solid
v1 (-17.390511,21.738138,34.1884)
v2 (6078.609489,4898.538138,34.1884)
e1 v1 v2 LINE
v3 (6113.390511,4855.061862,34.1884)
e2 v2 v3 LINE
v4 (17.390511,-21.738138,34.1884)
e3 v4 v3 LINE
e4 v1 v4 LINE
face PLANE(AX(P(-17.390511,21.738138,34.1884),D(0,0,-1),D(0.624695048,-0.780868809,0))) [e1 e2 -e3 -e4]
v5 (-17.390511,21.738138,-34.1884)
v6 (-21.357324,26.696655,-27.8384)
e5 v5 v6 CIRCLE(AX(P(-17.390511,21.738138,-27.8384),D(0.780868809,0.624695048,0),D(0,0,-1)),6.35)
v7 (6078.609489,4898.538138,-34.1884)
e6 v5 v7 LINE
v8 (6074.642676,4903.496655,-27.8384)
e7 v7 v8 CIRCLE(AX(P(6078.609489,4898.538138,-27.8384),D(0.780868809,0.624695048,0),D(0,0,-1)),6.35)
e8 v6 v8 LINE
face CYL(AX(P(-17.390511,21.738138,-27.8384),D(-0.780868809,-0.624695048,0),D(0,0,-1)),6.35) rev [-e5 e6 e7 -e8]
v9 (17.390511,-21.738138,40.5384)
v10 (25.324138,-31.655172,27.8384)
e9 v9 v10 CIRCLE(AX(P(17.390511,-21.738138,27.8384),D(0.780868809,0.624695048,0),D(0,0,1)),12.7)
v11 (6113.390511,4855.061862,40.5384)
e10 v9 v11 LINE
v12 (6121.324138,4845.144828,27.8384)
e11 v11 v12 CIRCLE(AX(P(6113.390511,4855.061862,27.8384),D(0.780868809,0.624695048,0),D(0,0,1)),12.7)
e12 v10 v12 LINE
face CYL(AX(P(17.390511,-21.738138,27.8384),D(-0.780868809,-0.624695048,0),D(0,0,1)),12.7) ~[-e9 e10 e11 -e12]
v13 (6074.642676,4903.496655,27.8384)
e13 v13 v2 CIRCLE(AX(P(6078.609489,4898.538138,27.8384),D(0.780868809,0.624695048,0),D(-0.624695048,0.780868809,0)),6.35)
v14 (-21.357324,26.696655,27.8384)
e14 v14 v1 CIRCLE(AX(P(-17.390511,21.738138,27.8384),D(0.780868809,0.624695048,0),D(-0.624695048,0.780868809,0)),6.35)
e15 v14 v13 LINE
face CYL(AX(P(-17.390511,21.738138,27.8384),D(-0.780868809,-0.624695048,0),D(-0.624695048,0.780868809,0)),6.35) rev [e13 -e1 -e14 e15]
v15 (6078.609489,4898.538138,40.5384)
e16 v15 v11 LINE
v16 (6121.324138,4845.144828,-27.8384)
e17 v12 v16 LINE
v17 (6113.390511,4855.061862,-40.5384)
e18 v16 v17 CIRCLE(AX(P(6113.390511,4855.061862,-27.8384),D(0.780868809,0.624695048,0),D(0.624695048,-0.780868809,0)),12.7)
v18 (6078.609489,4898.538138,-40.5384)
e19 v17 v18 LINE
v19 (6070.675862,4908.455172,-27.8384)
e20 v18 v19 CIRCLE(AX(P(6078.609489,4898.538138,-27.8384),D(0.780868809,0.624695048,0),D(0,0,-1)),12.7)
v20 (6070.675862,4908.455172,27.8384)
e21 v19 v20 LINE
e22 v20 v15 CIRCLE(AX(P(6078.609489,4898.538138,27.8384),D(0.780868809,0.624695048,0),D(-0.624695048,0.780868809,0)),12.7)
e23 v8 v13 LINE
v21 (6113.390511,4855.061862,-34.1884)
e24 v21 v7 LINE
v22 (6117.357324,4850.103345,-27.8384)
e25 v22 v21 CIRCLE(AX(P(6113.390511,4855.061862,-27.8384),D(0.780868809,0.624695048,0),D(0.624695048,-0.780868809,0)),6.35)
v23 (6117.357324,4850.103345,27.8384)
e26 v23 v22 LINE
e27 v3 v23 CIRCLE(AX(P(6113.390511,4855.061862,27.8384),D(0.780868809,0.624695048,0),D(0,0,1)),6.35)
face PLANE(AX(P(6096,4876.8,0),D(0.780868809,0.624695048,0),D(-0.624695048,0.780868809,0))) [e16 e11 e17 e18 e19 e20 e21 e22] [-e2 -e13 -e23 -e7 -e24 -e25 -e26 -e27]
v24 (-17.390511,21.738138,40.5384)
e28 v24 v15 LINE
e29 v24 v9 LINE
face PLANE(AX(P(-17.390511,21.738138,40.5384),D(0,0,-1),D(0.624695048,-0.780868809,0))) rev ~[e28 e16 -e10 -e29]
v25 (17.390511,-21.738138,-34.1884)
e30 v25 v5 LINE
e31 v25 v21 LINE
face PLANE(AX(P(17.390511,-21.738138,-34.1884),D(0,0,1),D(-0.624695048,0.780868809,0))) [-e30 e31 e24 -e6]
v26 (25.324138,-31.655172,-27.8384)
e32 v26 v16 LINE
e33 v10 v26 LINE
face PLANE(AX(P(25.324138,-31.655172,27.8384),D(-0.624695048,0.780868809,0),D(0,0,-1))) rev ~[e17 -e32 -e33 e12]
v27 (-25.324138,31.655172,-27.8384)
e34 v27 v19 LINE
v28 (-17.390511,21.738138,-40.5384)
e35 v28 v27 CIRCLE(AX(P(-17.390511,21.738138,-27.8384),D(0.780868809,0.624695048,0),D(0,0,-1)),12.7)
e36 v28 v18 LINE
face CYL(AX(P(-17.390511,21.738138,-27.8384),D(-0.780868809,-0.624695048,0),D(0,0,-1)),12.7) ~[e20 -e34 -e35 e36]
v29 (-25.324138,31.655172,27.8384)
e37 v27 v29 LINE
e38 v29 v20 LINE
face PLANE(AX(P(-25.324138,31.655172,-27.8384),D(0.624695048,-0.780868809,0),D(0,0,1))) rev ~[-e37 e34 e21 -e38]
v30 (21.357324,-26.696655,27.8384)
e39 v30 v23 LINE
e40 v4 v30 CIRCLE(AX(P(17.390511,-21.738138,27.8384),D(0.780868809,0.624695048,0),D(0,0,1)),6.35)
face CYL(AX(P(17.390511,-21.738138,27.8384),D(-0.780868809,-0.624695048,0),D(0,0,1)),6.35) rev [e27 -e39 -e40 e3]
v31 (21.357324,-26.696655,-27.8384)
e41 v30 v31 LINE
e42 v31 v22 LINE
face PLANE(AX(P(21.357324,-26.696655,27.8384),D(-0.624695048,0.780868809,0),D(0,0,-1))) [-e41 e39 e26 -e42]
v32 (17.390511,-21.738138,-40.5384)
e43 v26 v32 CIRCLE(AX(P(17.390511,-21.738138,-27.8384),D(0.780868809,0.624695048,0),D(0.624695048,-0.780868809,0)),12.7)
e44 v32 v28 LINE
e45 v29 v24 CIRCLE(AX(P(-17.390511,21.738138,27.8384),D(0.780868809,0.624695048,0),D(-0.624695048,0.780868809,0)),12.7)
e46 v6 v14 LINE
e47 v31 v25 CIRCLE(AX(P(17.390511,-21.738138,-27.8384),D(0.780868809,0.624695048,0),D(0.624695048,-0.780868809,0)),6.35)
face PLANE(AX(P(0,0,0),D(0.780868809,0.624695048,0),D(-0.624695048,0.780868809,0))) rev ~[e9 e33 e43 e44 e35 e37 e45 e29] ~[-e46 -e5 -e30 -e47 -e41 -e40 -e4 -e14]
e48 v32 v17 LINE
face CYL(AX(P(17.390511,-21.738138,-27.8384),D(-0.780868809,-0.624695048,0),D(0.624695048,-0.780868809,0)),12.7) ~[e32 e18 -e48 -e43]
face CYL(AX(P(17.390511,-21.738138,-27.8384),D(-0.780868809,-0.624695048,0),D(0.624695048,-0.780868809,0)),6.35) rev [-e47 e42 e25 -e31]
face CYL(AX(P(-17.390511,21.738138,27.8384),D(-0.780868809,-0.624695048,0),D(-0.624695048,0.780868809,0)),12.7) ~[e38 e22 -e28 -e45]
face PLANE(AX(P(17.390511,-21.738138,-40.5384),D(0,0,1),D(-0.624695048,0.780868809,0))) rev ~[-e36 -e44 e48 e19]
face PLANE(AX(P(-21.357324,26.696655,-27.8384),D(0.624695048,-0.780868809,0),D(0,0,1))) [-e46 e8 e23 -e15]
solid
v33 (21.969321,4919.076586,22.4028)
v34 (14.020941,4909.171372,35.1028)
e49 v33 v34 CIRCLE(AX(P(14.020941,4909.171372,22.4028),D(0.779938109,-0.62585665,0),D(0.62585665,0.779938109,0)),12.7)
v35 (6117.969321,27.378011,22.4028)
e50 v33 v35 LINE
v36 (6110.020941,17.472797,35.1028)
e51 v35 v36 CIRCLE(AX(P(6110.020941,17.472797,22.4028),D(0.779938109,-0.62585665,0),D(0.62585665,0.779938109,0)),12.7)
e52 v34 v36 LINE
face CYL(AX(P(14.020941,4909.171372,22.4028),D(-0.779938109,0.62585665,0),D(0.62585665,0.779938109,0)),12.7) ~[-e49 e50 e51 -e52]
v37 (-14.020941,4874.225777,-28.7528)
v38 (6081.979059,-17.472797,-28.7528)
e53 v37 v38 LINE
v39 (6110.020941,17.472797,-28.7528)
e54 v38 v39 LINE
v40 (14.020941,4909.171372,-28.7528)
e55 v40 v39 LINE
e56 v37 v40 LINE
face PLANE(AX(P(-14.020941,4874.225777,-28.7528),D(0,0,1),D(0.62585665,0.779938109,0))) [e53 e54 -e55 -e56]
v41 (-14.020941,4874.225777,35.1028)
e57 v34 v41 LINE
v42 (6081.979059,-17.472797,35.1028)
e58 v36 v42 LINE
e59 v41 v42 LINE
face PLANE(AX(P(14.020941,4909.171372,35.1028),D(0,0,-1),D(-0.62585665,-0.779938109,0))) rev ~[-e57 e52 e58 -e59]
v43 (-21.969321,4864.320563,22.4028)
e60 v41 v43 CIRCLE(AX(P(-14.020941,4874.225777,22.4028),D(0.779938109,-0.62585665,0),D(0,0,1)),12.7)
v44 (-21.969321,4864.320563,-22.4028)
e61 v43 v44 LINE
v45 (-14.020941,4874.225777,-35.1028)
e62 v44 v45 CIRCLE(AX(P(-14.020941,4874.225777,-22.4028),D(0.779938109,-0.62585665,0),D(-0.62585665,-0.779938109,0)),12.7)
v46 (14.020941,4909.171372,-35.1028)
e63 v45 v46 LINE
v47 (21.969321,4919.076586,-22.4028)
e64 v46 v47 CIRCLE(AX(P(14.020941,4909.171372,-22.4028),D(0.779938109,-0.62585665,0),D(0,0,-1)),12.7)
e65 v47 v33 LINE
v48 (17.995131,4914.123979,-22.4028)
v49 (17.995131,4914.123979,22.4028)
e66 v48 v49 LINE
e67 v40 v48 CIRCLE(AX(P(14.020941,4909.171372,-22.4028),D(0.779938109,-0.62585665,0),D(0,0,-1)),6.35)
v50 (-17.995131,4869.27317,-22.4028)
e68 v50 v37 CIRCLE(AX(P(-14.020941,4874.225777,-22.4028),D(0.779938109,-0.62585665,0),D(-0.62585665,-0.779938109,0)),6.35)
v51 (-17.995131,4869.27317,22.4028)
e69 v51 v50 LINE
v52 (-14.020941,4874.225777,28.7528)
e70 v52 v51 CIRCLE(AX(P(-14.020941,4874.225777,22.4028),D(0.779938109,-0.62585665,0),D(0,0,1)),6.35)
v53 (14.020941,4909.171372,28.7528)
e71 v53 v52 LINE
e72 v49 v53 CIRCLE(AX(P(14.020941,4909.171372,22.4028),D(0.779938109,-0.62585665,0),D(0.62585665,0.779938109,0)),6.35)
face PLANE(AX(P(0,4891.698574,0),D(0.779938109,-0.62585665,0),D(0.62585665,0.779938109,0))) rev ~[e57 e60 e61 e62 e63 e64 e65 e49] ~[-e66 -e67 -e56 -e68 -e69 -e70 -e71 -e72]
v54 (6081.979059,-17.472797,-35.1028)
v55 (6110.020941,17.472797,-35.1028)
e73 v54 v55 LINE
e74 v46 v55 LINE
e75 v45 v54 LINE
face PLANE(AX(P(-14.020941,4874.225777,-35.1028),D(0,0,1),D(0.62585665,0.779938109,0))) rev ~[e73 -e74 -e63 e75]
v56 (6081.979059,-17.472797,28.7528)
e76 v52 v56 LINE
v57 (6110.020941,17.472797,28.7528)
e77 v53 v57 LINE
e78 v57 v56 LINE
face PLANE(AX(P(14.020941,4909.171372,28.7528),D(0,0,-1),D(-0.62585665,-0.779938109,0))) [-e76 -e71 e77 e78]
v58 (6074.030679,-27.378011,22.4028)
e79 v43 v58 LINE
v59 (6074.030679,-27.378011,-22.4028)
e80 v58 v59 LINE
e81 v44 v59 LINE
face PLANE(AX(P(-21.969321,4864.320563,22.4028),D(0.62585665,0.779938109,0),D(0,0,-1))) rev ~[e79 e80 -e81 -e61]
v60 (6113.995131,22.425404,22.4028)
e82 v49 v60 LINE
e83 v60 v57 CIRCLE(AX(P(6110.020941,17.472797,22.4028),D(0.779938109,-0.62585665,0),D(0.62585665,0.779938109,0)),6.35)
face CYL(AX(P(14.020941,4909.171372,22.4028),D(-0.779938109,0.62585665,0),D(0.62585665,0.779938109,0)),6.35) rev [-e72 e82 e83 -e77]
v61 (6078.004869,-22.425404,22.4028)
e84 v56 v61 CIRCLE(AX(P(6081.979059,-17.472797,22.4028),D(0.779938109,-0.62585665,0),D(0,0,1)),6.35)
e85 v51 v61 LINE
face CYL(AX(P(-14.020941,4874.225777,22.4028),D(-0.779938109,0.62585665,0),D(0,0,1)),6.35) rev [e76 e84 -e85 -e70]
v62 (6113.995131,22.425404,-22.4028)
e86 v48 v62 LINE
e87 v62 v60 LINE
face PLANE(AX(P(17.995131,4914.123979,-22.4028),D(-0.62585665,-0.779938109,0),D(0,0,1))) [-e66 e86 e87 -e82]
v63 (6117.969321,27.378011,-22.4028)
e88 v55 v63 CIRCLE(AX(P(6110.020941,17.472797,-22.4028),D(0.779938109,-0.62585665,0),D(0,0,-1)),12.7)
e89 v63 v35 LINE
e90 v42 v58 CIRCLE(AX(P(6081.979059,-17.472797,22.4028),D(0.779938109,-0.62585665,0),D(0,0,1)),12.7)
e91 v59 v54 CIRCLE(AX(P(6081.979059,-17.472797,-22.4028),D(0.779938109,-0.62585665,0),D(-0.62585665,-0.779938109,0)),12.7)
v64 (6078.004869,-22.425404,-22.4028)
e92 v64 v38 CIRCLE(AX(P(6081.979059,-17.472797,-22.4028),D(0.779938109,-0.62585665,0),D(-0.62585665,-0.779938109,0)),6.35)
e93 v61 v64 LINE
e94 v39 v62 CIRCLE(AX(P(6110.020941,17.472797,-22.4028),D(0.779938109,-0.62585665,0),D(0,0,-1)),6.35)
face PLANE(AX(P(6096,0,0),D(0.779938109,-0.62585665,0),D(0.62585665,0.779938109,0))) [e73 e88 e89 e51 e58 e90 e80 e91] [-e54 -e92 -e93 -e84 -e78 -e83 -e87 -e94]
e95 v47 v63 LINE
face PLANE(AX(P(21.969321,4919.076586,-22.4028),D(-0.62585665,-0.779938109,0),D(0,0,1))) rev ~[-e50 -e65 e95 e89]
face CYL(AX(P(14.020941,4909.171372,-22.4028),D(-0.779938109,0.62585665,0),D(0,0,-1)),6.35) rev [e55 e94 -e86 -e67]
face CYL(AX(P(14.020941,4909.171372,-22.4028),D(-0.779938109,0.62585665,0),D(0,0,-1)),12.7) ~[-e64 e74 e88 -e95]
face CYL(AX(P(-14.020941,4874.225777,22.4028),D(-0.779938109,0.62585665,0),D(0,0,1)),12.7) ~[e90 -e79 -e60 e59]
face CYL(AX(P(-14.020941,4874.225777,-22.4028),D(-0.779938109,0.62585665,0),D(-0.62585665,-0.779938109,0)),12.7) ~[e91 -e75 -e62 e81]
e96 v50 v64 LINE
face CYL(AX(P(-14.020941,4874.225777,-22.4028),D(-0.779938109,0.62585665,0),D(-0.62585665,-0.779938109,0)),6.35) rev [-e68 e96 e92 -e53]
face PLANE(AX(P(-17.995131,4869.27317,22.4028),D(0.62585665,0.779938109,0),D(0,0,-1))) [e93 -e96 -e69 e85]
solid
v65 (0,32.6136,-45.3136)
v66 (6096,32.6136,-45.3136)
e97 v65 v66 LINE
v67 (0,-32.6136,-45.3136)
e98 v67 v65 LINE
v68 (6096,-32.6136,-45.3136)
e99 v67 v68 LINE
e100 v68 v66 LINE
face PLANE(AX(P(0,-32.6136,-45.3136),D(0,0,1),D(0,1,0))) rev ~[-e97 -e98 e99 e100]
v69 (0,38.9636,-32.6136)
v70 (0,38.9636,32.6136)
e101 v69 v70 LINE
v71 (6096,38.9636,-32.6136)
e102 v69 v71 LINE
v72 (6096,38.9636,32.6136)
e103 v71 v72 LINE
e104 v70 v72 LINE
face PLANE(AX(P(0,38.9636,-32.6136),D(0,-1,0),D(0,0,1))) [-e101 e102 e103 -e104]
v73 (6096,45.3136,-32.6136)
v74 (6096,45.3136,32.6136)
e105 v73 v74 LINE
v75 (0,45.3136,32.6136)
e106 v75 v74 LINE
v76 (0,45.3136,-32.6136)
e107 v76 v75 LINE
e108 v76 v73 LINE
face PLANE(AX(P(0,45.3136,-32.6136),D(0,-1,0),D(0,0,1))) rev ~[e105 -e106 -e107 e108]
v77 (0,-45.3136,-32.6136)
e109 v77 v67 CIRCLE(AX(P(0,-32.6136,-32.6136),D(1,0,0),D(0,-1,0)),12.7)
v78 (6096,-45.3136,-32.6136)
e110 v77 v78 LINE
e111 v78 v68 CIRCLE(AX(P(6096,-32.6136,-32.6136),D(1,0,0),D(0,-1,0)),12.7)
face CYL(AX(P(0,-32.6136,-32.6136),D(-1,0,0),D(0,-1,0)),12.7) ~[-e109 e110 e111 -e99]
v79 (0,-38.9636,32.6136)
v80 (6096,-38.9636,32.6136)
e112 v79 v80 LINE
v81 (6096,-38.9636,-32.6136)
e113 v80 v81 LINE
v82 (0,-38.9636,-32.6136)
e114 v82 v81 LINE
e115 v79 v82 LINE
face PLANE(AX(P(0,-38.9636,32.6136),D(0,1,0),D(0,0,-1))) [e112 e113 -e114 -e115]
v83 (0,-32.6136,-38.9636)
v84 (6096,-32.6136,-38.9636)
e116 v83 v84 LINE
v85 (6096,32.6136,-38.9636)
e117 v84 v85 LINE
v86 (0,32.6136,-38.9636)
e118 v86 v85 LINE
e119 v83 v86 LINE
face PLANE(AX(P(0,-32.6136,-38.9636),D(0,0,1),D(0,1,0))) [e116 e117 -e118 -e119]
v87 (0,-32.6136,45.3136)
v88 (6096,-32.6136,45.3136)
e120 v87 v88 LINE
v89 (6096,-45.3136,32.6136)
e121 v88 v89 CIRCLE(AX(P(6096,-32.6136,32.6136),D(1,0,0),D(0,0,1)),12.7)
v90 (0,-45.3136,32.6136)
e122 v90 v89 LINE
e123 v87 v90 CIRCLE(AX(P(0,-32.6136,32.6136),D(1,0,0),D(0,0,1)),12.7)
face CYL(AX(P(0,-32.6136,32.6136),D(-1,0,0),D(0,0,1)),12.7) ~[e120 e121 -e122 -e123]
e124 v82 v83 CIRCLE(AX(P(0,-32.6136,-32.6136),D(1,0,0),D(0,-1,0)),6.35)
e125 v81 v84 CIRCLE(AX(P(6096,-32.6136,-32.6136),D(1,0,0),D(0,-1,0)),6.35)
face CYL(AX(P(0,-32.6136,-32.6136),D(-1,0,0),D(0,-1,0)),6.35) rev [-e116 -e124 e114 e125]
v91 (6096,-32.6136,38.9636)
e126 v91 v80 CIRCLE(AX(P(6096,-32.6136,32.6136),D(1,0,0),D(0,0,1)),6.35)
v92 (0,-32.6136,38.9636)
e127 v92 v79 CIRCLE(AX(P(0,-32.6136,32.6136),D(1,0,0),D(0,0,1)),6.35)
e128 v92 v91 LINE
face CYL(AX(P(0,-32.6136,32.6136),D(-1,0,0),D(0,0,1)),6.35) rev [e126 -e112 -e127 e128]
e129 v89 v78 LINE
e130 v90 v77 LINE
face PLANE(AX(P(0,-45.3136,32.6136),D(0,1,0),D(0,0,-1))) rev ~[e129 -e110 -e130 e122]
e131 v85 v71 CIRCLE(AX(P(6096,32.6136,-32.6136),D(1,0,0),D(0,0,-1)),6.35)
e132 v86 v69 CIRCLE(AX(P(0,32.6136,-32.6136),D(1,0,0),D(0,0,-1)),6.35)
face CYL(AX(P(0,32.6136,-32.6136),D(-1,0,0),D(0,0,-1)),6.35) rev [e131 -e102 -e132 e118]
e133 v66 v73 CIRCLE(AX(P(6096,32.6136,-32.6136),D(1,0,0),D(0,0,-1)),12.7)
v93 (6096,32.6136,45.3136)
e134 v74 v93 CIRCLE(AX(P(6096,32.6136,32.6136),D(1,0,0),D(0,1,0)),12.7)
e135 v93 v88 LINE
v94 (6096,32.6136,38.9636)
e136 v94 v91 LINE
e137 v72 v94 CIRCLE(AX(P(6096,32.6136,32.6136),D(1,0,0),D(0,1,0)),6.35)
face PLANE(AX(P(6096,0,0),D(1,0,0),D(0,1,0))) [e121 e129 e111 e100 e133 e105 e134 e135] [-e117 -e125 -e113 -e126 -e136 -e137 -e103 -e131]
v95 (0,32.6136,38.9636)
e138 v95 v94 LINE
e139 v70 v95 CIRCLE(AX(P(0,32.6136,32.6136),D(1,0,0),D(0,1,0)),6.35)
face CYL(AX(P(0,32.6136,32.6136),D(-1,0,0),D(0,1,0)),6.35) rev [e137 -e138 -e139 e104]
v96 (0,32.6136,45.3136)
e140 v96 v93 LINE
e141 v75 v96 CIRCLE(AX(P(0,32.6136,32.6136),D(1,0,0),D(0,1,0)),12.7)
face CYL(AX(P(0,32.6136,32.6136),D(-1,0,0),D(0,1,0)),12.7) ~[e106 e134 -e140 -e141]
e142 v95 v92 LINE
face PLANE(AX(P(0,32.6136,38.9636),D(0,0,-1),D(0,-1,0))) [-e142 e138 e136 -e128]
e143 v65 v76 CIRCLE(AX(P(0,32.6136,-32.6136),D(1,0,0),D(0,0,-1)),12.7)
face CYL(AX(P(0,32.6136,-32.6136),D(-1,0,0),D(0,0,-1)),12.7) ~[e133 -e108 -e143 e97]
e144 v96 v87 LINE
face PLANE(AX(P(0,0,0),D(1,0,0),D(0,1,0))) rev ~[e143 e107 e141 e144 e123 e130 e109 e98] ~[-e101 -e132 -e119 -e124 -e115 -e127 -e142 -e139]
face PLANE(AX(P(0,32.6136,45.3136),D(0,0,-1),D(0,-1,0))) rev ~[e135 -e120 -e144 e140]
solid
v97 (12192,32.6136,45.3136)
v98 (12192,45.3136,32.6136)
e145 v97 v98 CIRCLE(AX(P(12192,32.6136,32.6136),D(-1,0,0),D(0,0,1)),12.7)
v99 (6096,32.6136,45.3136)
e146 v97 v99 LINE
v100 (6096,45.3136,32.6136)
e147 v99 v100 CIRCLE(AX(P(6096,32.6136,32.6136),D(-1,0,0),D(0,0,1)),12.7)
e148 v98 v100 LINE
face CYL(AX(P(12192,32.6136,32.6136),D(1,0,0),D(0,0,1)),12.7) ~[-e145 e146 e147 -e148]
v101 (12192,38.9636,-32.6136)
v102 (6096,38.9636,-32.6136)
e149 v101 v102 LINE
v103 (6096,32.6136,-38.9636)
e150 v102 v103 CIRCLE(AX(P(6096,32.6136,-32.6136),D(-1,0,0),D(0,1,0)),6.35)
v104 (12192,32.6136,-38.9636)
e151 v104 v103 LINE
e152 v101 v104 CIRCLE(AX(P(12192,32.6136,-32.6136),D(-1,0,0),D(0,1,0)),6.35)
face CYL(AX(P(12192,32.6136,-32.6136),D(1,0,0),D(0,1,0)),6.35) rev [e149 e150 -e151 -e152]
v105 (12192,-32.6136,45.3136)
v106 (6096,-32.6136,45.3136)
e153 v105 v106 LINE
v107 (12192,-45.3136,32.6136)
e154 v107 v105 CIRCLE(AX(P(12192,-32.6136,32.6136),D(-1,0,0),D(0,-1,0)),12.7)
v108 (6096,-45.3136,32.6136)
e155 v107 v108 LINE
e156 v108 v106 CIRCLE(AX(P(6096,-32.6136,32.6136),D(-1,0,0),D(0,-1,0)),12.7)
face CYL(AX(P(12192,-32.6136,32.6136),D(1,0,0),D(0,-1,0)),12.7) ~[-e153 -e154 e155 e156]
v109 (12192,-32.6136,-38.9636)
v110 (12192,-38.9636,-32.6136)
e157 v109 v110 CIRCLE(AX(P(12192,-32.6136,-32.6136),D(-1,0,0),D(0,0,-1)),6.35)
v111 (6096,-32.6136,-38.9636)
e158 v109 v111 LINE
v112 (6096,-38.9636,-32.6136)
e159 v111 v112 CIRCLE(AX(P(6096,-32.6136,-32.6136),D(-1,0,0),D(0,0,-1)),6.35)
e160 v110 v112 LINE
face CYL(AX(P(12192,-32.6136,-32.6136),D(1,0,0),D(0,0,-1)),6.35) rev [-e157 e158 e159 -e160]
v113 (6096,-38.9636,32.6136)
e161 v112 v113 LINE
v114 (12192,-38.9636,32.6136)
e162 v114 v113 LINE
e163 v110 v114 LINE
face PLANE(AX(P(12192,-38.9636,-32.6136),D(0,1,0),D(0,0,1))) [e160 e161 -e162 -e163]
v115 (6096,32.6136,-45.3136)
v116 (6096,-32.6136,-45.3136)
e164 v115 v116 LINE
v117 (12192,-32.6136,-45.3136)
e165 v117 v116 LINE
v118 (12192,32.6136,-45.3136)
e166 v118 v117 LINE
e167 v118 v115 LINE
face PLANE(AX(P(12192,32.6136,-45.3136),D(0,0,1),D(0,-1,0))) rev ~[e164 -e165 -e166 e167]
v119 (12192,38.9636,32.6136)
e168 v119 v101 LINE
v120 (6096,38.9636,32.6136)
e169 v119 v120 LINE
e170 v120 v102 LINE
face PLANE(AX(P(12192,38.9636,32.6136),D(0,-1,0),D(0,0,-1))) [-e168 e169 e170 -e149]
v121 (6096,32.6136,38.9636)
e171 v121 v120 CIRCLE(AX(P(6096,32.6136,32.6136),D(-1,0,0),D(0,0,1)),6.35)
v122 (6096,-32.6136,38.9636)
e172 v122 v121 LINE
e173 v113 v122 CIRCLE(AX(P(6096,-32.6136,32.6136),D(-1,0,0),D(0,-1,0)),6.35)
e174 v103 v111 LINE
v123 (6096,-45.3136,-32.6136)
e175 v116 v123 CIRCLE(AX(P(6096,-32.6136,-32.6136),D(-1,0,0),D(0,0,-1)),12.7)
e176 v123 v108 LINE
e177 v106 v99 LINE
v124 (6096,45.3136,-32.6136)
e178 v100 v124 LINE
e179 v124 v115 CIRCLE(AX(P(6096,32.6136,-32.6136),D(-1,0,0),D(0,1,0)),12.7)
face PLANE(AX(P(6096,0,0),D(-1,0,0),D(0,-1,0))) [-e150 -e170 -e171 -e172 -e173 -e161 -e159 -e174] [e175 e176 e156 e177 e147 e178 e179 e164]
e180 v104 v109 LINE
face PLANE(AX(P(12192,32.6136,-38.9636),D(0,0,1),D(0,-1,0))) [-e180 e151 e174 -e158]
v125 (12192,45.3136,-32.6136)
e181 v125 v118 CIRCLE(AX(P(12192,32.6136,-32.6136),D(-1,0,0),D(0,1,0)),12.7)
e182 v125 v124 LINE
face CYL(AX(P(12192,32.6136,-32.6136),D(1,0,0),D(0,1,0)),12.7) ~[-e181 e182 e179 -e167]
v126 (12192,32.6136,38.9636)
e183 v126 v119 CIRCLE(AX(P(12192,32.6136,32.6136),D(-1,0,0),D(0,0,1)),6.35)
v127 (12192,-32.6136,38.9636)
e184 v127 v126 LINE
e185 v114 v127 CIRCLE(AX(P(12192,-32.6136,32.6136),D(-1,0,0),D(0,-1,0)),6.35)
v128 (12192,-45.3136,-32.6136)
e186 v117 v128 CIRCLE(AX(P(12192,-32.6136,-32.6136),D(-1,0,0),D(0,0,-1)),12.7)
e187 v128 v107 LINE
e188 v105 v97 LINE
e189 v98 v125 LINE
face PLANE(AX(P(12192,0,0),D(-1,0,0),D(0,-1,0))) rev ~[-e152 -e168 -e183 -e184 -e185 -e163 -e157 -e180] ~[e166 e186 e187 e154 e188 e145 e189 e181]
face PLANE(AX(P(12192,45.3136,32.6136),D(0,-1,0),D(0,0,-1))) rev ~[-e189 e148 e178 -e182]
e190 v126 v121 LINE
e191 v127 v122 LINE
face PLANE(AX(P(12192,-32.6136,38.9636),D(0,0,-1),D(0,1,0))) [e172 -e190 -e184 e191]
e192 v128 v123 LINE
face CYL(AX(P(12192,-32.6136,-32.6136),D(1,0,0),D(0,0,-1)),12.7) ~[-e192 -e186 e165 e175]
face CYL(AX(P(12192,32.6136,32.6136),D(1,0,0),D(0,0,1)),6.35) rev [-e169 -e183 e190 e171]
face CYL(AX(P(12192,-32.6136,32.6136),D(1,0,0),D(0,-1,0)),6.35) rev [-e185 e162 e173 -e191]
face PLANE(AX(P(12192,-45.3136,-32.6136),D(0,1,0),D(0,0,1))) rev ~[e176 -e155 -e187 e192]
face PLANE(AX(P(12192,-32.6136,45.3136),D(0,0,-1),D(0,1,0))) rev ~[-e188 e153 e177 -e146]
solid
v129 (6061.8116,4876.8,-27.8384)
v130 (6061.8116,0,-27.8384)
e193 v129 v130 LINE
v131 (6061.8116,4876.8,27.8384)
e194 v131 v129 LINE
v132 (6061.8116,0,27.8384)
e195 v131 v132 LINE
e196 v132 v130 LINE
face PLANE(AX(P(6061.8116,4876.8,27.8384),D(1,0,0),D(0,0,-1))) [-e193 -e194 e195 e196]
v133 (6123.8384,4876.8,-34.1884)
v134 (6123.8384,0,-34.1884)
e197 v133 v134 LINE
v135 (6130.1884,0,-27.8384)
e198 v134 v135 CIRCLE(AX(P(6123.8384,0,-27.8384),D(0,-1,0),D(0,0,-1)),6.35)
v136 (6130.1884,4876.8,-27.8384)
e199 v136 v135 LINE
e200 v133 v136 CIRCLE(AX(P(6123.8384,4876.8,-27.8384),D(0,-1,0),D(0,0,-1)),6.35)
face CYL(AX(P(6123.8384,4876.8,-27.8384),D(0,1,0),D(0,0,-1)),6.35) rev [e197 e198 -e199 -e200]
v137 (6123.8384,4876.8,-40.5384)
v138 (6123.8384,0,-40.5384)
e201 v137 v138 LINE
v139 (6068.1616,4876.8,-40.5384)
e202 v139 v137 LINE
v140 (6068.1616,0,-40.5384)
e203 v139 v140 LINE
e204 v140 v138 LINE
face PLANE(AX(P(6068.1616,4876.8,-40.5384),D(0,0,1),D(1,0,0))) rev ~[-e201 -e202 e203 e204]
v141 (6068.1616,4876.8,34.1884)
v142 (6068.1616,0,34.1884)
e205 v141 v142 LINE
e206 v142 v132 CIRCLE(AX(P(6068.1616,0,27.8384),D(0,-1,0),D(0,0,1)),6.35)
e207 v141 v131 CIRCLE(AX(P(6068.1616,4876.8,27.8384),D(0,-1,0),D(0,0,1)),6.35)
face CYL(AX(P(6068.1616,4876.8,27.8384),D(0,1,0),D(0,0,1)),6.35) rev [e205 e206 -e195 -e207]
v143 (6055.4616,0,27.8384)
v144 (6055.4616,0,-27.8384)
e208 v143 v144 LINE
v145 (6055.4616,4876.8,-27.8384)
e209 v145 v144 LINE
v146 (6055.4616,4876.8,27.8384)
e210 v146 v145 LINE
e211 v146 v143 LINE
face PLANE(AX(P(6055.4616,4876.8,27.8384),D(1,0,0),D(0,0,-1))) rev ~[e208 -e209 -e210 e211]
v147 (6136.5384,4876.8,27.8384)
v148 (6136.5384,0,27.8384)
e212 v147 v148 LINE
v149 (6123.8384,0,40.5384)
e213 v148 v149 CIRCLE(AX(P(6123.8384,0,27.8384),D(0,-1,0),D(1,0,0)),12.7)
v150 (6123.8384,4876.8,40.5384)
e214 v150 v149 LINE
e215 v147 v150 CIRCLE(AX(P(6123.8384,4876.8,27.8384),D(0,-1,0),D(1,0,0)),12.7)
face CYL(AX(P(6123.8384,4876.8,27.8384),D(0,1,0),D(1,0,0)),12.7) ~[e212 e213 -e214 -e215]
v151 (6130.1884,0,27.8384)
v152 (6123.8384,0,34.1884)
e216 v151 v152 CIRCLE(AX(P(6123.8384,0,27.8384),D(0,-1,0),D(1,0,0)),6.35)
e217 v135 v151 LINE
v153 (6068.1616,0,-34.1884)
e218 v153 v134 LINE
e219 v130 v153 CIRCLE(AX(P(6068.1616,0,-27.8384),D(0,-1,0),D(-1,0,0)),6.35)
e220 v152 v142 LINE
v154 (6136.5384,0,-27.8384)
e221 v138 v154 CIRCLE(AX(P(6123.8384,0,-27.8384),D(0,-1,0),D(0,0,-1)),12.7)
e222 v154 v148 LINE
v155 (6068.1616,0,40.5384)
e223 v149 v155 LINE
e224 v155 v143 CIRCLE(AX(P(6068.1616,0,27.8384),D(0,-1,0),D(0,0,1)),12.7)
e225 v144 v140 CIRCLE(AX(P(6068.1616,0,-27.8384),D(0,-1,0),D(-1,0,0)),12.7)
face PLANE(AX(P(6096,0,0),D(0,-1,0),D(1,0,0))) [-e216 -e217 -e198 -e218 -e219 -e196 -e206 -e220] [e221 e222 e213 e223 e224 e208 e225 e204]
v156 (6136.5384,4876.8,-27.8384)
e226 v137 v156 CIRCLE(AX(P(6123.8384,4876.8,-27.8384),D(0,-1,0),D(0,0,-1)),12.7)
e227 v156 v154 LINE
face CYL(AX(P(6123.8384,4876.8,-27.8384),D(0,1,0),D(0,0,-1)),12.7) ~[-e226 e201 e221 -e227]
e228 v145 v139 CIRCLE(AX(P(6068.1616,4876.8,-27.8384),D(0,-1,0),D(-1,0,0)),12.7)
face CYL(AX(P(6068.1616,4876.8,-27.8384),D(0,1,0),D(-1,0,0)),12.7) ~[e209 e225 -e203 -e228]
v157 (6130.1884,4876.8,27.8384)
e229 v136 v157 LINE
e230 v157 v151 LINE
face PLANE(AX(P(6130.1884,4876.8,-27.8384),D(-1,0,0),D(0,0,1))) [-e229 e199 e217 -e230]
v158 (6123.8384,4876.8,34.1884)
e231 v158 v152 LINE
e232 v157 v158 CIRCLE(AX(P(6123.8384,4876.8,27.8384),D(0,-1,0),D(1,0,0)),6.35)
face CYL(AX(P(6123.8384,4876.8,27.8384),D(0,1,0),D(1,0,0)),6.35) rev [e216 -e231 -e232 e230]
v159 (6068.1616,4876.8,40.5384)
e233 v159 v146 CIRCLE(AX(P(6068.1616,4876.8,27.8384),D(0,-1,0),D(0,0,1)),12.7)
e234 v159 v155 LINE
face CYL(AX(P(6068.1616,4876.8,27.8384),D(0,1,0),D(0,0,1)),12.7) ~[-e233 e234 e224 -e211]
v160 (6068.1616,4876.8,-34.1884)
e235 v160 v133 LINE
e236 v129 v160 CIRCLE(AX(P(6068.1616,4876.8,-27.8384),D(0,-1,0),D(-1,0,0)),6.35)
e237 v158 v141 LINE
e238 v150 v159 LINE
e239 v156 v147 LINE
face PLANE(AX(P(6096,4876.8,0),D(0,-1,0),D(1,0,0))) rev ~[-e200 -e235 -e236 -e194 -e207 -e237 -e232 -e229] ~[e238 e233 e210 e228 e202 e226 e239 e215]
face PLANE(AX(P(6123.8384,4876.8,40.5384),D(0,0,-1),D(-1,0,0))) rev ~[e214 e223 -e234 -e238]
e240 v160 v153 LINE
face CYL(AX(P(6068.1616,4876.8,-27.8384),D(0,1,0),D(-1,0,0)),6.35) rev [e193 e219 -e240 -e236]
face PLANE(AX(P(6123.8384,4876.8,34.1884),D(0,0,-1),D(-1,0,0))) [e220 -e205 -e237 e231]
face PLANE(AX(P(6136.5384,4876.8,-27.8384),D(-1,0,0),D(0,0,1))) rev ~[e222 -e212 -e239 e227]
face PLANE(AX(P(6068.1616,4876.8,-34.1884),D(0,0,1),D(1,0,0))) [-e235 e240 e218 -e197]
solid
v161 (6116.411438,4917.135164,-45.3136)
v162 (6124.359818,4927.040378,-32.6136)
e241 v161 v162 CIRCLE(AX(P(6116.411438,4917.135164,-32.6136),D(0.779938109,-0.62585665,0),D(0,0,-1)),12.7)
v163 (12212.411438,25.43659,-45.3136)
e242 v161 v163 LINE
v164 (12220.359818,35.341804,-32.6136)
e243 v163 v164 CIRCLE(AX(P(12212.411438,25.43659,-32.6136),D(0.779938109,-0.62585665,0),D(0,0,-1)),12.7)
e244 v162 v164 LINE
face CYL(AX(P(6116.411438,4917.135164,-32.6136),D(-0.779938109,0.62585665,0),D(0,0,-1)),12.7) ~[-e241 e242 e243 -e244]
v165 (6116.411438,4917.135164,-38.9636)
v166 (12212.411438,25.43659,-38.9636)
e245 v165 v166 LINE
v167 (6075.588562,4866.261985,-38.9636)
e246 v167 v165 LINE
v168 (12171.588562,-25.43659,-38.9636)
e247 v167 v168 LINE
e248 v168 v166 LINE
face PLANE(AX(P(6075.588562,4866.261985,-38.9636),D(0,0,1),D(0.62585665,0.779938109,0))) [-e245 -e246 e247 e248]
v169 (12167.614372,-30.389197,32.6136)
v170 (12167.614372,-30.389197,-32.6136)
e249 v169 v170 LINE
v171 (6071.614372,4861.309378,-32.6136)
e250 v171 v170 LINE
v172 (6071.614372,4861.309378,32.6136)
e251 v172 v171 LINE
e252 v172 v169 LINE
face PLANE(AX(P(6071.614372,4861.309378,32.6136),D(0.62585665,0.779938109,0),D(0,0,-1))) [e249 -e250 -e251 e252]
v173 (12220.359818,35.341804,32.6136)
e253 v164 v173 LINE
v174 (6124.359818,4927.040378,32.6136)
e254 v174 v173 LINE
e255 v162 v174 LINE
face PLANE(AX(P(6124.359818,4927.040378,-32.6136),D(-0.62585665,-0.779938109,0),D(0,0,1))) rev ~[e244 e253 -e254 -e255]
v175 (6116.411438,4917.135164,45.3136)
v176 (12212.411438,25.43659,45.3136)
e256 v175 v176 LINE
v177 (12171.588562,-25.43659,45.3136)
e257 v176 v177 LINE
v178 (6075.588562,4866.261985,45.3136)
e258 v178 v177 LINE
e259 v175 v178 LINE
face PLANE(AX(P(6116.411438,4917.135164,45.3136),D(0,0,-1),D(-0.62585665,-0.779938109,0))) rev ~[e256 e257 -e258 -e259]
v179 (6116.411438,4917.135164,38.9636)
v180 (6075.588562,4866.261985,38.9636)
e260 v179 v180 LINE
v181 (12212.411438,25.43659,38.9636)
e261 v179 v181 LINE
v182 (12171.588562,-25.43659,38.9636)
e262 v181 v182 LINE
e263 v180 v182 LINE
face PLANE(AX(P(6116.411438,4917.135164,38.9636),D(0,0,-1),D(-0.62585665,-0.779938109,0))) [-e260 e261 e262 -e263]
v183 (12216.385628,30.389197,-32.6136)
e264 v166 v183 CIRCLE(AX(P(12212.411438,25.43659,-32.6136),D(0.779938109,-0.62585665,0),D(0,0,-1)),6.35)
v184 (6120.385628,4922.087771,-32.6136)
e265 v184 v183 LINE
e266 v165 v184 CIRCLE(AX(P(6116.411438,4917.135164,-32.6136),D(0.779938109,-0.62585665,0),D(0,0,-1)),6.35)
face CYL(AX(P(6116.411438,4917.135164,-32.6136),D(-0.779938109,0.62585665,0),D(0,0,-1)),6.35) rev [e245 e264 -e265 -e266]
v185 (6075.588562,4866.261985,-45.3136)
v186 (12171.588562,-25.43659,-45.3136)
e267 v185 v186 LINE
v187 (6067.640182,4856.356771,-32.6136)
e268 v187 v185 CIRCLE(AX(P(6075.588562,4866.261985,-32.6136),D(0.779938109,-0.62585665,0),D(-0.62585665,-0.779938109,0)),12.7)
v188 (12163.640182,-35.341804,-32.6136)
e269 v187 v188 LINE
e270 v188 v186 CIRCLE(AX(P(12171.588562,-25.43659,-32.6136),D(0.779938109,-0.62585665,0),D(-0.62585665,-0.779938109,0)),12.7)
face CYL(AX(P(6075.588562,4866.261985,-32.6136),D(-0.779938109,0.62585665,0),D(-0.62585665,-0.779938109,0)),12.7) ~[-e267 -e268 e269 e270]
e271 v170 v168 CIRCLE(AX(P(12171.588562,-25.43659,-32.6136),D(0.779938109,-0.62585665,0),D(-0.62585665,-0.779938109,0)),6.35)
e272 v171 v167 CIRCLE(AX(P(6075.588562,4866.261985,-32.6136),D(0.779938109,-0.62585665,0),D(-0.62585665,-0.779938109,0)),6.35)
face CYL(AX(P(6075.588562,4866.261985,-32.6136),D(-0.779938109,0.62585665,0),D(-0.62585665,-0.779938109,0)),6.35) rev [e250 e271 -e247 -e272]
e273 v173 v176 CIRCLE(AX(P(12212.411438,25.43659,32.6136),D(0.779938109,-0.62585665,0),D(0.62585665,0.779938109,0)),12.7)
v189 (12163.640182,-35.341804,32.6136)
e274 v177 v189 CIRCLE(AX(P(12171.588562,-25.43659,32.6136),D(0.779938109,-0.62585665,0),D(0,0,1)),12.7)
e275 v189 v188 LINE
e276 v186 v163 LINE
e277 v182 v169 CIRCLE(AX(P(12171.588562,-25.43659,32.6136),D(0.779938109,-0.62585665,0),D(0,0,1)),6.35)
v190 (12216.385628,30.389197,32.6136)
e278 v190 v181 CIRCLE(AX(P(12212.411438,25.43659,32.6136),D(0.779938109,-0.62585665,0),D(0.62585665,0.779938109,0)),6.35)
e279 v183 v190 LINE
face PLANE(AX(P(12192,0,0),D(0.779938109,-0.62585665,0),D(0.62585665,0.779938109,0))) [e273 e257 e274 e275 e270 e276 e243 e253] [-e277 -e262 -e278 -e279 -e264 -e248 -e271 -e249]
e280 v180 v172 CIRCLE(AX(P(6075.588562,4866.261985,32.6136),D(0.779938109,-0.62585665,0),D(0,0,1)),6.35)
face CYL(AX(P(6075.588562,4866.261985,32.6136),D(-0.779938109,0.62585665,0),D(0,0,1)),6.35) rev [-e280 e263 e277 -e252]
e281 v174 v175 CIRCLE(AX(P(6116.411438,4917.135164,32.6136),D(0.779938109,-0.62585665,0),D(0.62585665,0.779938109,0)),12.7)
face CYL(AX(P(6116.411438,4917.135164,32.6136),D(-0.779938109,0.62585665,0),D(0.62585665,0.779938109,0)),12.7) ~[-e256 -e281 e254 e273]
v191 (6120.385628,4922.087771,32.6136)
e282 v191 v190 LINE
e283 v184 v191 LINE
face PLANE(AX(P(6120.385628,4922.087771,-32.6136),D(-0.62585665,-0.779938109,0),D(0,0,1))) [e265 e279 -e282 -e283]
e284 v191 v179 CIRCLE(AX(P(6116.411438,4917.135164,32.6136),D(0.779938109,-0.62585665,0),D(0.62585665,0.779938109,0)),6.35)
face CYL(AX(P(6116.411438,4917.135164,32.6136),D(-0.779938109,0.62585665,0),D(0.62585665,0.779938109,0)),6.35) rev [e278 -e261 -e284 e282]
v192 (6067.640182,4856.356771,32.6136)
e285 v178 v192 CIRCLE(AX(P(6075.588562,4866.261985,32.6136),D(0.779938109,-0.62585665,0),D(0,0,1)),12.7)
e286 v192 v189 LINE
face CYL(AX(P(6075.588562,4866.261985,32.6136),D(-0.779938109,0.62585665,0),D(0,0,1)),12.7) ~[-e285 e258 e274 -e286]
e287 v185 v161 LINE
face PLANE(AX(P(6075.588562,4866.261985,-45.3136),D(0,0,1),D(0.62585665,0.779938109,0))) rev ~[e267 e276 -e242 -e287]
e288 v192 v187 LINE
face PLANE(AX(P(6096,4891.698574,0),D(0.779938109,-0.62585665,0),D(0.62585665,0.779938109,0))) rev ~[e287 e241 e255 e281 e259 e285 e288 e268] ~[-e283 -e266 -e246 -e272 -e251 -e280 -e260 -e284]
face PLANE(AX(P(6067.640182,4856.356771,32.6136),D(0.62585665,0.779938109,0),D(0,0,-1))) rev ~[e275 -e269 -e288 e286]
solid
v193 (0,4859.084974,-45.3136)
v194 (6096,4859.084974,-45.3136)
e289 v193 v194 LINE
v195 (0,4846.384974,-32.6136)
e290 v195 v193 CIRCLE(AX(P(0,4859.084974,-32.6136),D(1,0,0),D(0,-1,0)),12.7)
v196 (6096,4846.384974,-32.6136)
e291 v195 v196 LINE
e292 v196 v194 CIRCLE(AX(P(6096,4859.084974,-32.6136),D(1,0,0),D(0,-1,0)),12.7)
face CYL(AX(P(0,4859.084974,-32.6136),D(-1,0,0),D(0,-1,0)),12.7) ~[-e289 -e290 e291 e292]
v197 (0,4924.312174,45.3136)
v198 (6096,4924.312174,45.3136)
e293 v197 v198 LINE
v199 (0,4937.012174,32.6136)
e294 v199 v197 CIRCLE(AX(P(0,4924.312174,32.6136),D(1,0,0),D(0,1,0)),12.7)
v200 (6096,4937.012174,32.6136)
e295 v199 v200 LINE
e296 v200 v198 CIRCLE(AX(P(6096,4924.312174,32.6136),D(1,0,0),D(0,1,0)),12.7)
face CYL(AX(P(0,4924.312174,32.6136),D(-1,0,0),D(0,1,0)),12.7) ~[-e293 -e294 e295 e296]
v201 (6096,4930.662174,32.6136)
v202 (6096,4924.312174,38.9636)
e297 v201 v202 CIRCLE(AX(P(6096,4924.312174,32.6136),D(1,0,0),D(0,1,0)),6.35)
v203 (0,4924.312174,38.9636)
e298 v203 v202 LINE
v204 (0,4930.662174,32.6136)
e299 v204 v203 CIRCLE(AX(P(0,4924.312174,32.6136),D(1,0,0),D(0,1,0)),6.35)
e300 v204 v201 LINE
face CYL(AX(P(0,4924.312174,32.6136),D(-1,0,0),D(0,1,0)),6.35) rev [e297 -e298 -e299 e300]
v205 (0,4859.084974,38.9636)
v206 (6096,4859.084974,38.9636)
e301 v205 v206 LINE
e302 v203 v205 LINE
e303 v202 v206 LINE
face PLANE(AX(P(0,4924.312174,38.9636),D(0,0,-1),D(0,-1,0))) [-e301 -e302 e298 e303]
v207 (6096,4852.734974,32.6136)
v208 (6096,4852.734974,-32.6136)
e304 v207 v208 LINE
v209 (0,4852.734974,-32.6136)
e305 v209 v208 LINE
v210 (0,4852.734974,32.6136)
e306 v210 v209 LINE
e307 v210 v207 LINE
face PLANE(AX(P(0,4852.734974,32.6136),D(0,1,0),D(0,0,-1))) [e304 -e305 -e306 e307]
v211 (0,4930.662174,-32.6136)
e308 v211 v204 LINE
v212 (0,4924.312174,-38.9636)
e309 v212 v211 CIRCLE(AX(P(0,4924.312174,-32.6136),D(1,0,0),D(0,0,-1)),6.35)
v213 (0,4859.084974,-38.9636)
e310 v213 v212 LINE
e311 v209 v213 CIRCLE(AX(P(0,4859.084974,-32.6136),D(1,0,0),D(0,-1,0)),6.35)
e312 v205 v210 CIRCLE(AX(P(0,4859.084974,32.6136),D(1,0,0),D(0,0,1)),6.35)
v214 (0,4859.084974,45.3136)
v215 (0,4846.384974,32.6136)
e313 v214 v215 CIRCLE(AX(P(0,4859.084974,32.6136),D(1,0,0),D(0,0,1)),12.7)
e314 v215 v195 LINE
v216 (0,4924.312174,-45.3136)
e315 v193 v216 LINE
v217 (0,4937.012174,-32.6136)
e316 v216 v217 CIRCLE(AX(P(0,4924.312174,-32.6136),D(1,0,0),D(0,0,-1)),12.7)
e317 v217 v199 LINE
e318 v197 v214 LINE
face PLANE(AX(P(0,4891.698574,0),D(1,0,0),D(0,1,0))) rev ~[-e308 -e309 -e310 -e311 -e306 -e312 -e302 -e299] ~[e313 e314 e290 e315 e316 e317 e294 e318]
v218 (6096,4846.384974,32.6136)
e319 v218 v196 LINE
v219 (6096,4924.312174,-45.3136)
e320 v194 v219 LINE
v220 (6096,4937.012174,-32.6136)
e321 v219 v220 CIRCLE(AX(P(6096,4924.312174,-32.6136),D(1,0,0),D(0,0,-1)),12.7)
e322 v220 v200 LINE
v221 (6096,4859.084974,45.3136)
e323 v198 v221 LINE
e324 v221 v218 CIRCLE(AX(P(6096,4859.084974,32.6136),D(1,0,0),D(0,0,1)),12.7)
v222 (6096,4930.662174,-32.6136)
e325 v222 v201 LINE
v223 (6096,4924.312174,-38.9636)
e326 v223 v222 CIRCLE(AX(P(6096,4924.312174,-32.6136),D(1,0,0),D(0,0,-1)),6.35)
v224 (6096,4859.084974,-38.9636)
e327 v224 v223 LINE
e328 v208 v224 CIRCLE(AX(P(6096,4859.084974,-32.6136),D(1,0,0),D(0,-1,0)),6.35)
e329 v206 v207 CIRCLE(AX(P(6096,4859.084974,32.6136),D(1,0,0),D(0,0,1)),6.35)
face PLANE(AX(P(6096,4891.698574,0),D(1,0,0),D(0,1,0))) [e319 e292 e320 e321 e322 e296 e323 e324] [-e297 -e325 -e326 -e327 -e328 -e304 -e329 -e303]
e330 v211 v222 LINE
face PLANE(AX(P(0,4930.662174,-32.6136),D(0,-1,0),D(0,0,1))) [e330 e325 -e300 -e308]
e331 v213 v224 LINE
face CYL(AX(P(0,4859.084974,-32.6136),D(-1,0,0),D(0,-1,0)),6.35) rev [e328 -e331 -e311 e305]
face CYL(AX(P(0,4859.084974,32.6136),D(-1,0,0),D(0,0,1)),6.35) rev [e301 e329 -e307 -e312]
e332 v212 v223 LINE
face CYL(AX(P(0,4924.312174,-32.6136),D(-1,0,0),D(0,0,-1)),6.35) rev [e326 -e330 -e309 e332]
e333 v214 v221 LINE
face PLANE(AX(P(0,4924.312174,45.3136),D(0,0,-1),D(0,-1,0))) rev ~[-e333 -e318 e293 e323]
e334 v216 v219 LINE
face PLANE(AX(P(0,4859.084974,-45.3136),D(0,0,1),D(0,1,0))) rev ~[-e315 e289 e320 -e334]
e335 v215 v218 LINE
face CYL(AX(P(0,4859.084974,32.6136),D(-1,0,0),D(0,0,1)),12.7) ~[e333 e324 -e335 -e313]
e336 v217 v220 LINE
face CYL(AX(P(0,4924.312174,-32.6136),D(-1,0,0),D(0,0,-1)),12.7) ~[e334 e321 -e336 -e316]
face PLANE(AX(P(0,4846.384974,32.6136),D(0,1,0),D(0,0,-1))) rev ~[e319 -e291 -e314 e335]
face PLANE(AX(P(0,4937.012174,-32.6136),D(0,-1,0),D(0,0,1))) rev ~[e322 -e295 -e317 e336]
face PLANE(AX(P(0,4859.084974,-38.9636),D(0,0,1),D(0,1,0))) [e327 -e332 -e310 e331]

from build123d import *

# Parameters (mm, degrees)
ELEMENT_1_DEPTH = 6096
ELEMENT_2_DEPTH = 6096
ELEMENT_3_DEPTH = 6096
ELEMENT_4_DEPTH = 7806.689070278
ELEMENT_5_DEPTH = 7816.00479415
ELEMENT_6_DEPTH = 4876.8
ELEMENT_7_DEPTH = 7816.00479415


with BuildPart() as part:
    # Sketch13 → element 1 (new body)
    with BuildSketch(Plane.YZ):
        with BuildLine():
            Line((-32.6136, -45.3136), (32.6136, -45.3136))
            ThreePointArc((32.6136, -45.3136), (41.593856121, -41.593856121), (45.3136, -32.6136))
            Line((45.3136, -32.6136), (45.3136, 32.6136))
            ThreePointArc((45.3136, 32.6136), (41.593856121, 41.593856121), (32.6136, 45.3136))
            Line((32.6136, 45.3136), (-32.6136, 45.3136))
            ThreePointArc((-32.6136, 45.3136), (-41.593856121, 41.593856121), (-45.3136, 32.6136))
            Line((-45.3136, 32.6136), (-45.3136, -32.6136))
            ThreePointArc((-45.3136, -32.6136), (-41.593856121, -41.593856121), (-32.6136, -45.3136))
        make_face()
        with BuildLine():
            Line((-32.6136, -38.9636), (32.6136, -38.9636))
            ThreePointArc((32.6136, -38.9636), (37.103728061, -37.103728061), (38.9636, -32.6136))
            Line((38.9636, -32.6136), (38.9636, 32.6136))
            ThreePointArc((38.9636, 32.6136), (37.103728061, 37.103728061), (32.6136, 38.9636))
            Line((32.6136, 38.9636), (-32.6136, 38.9636))
            ThreePointArc((-32.6136, 38.9636), (-37.103728061, 37.103728061), (-38.9636, 32.6136))
            Line((-38.9636, 32.6136), (-38.9636, -32.6136))
            ThreePointArc((-38.9636, -32.6136), (-37.103728061, -37.103728061), (-32.6136, -38.9636))
        make_face(mode=Mode.SUBTRACT)
    extrude(amount=ELEMENT_1_DEPTH)


with BuildPart() as body_2:
    # Sketch15 → element 2 (new body)
    with BuildSketch(Plane(origin=(12192, 0, 0), x_dir=(0, -1, 0), z_dir=(-1, 0, 0))):
        with BuildLine():
            Line((-32.6136, -45.3136), (32.6136, -45.3136))
            ThreePointArc((32.6136, -45.3136), (41.593856121, -41.593856121), (45.3136, -32.6136))
            Line((45.3136, -32.6136), (45.3136, 32.6136))
            ThreePointArc((45.3136, 32.6136), (41.593856121, 41.593856121), (32.6136, 45.3136))
            Line((32.6136, 45.3136), (-32.6136, 45.3136))
            ThreePointArc((-32.6136, 45.3136), (-41.593856121, 41.593856121), (-45.3136, 32.6136))
            Line((-45.3136, 32.6136), (-45.3136, -32.6136))
            ThreePointArc((-45.3136, -32.6136), (-41.593856121, -41.593856121), (-32.6136, -45.3136))
        make_face()
        with BuildLine():
            Line((-32.6136, -38.9636), (32.6136, -38.9636))
            ThreePointArc((32.6136, -38.9636), (37.103728061, -37.103728061), (38.9636, -32.6136))
            Line((38.9636, -32.6136), (38.9636, 32.6136))
            ThreePointArc((38.9636, 32.6136), (37.103728061, 37.103728061), (32.6136, 38.9636))
            Line((32.6136, 38.9636), (-32.6136, 38.9636))
            ThreePointArc((-32.6136, 38.9636), (-37.103728061, 37.103728061), (-38.9636, 32.6136))
            Line((-38.9636, 32.6136), (-38.9636, -32.6136))
            ThreePointArc((-38.9636, -32.6136), (-37.103728061, -37.103728061), (-32.6136, -38.9636))
        make_face(mode=Mode.SUBTRACT)
    extrude(amount=ELEMENT_2_DEPTH)


with BuildPart() as body_3:
    # Sketch17 → element 3 (new body)
    with BuildSketch(Plane(origin=(0, 4891.698574338, 0), x_dir=(0, 1, 0), z_dir=(1, 0, 0))):
        with BuildLine():
            Line((-32.6136, -45.3136), (32.6136, -45.3136))
            ThreePointArc((32.6136, -45.3136), (41.593856121, -41.593856121), (45.3136, -32.6136))
            Line((45.3136, -32.6136), (45.3136, 32.6136))
            ThreePointArc((45.3136, 32.6136), (41.593856121, 41.593856121), (32.6136, 45.3136))
            Line((32.6136, 45.3136), (-32.6136, 45.3136))
            ThreePointArc((-32.6136, 45.3136), (-41.593856121, 41.593856121), (-45.3136, 32.6136))
            Line((-45.3136, 32.6136), (-45.3136, -32.6136))
            ThreePointArc((-45.3136, -32.6136), (-41.593856121, -41.593856121), (-32.6136, -45.3136))
        make_face()
        with BuildLine():
            Line((-32.6136, -38.9636), (32.6136, -38.9636))
            ThreePointArc((32.6136, -38.9636), (37.103728061, -37.103728061), (38.9636, -32.6136))
            Line((38.9636, -32.6136), (38.9636, 32.6136))
            ThreePointArc((38.9636, 32.6136), (37.103728061, 37.103728061), (32.6136, 38.9636))
            Line((32.6136, 38.9636), (-32.6136, 38.9636))
            ThreePointArc((-32.6136, 38.9636), (-37.103728061, 37.103728061), (-38.9636, 32.6136))
            Line((-38.9636, 32.6136), (-38.9636, -32.6136))
            ThreePointArc((-38.9636, -32.6136), (-37.103728061, -37.103728061), (-32.6136, -38.9636))
        make_face(mode=Mode.SUBTRACT)
    extrude(amount=ELEMENT_3_DEPTH)


with BuildPart() as body_4:
    # Sketch19 → element 4 (new body)
    with BuildSketch(Plane(origin=(0, 0, 0), x_dir=(-0.6246950475544243, 0.7808688094430304, 0), z_dir=(0.7808688094430304, 0.6246950475544243, 0))):
        with BuildLine():
            Line((-27.8384, -40.5384), (27.8384, -40.5384))
            ThreePointArc((27.8384, -40.5384), (36.818656121, -36.818656121), (40.5384, -27.8384))
            Line((40.5384, -27.8384), (40.5384, 27.8384))
            ThreePointArc((40.5384, 27.8384), (36.818656121, 36.818656121), (27.8384, 40.5384))
            Line((27.8384, 40.5384), (-27.8384, 40.5384))
            ThreePointArc((-27.8384, 40.5384), (-36.818656121, 36.818656121), (-40.5384, 27.8384))
            Line((-40.5384, 27.8384), (-40.5384, -27.8384))
            ThreePointArc((-40.5384, -27.8384), (-36.818656121, -36.818656121), (-27.8384, -40.5384))
        make_face()
        with BuildLine():
            Line((-27.8384, -34.1884), (27.8384, -34.1884))
            ThreePointArc((27.8384, -34.1884), (32.328528061, -32.328528061), (34.1884, -27.8384))
            Line((34.1884, -27.8384), (34.1884, 27.8384))
            ThreePointArc((34.1884, 27.8384), (32.328528061, 32.328528061), (27.8384, 34.1884))
            Line((27.8384, 34.1884), (-27.8384, 34.1884))
            ThreePointArc((-27.8384, 34.1884), (-32.328528061, 32.328528061), (-34.1884, 27.8384))
            Line((-34.1884, 27.8384), (-34.1884, -27.8384))
            ThreePointArc((-34.1884, -27.8384), (-32.328528061, -32.328528061), (-27.8384, -34.1884))
        make_face(mode=Mode.SUBTRACT)
    extrude(amount=ELEMENT_4_DEPTH)


with BuildPart() as body_5:
    # Sketch18 → element 5 (new body)
    with BuildSketch(Plane(origin=(0, 4891.698574338, 0), x_dir=(0.625856649678507, 0.779938109117124, 0), z_dir=(0.779938109117124, -0.625856649678507, 0))):
        with BuildLine():
            Line((-22.4028, -35.1028), (22.4028, -35.1028))
            ThreePointArc((22.4028, -35.1028), (31.383056121, -31.383056121), (35.1028, -22.4028))
            Line((35.1028, -22.4028), (35.1028, 22.4028))
            ThreePointArc((35.1028, 22.4028), (31.383056121, 31.383056121), (22.4028, 35.1028))
            Line((22.4028, 35.1028), (-22.4028, 35.1028))
            ThreePointArc((-22.4028, 35.1028), (-31.383056121, 31.383056121), (-35.1028, 22.4028))
            Line((-35.1028, 22.4028), (-35.1028, -22.4028))
            ThreePointArc((-35.1028, -22.4028), (-31.383056121, -31.383056121), (-22.4028, -35.1028))
        make_face()
        with BuildLine():
            Line((-22.4028, -28.7528), (22.4028, -28.7528))
            ThreePointArc((22.4028, -28.7528), (26.892928061, -26.892928061), (28.7528, -22.4028))
            Line((28.7528, -22.4028), (28.7528, 22.4028))
            ThreePointArc((28.7528, 22.4028), (26.892928061, 26.892928061), (22.4028, 28.7528))
            Line((22.4028, 28.7528), (-22.4028, 28.7528))
            ThreePointArc((-22.4028, 28.7528), (-26.892928061, 26.892928061), (-28.7528, 22.4028))
            Line((-28.7528, 22.4028), (-28.7528, -22.4028))
            ThreePointArc((-28.7528, -22.4028), (-26.892928061, -26.892928061), (-22.4028, -28.7528))
        make_face(mode=Mode.SUBTRACT)
    extrude(amount=ELEMENT_5_DEPTH)


with BuildPart() as body_6:
    # Sketch110 → element 6 (new body)
    with BuildSketch(Plane(origin=(6096, 4876.8, 0), x_dir=(1, 0, 0), z_dir=(0, -1, 0))):
        with BuildLine():
            Line((-27.8384, -40.5384), (27.8384, -40.5384))
            ThreePointArc((27.8384, -40.5384), (36.818656121, -36.818656121), (40.5384, -27.8384))
            Line((40.5384, -27.8384), (40.5384, 27.8384))
            ThreePointArc((40.5384, 27.8384), (36.818656121, 36.818656121), (27.8384, 40.5384))
            Line((27.8384, 40.5384), (-27.8384, 40.5384))
            ThreePointArc((-27.8384, 40.5384), (-36.818656121, 36.818656121), (-40.5384, 27.8384))
            Line((-40.5384, 27.8384), (-40.5384, -27.8384))
            ThreePointArc((-40.5384, -27.8384), (-36.818656121, -36.818656121), (-27.8384, -40.5384))
        make_face()
        with BuildLine():
            Line((-27.8384, -34.1884), (27.8384, -34.1884))
            ThreePointArc((27.8384, -34.1884), (32.328528061, -32.328528061), (34.1884, -27.8384))
            Line((34.1884, -27.8384), (34.1884, 27.8384))
            ThreePointArc((34.1884, 27.8384), (32.328528061, 32.328528061), (27.8384, 34.1884))
            Line((27.8384, 34.1884), (-27.8384, 34.1884))
            ThreePointArc((-27.8384, 34.1884), (-32.328528061, 32.328528061), (-34.1884, 27.8384))
            Line((-34.1884, 27.8384), (-34.1884, -27.8384))
            ThreePointArc((-34.1884, -27.8384), (-32.328528061, -32.328528061), (-27.8384, -34.1884))
        make_face(mode=Mode.SUBTRACT)
    extrude(amount=ELEMENT_6_DEPTH)


with BuildPart() as body_7:
    # Sketch16 → element 7 (new body)
    with BuildSketch(Plane(origin=(6096, 4891.698574338, 0), x_dir=(0.625856649678507, 0.779938109117124, 0), z_dir=(0.779938109117124, -0.625856649678507, 0))):
        with BuildLine():
            Line((-32.6136, -45.3136), (32.6136, -45.3136))
            ThreePointArc((32.6136, -45.3136), (41.593856121, -41.593856121), (45.3136, -32.6136))
            Line((45.3136, -32.6136), (45.3136, 32.6136))
            ThreePointArc((45.3136, 32.6136), (41.593856121, 41.593856121), (32.6136, 45.3136))
            Line((32.6136, 45.3136), (-32.6136, 45.3136))
            ThreePointArc((-32.6136, 45.3136), (-41.593856121, 41.593856121), (-45.3136, 32.6136))
            Line((-45.3136, 32.6136), (-45.3136, -32.6136))
            ThreePointArc((-45.3136, -32.6136), (-41.593856121, -41.593856121), (-32.6136, -45.3136))
        make_face()
        with BuildLine():
            Line((-32.6136, -38.9636), (32.6136, -38.9636))
            ThreePointArc((32.6136, -38.9636), (37.103728061, -37.103728061), (38.9636, -32.6136))
            Line((38.9636, -32.6136), (38.9636, 32.6136))
            ThreePointArc((38.9636, 32.6136), (37.103728061, 37.103728061), (32.6136, 38.9636))
            Line((32.6136, 38.9636), (-32.6136, 38.9636))
            ThreePointArc((-32.6136, 38.9636), (-37.103728061, 37.103728061), (-38.9636, 32.6136))
            Line((-38.9636, 32.6136), (-38.9636, -32.6136))
            ThreePointArc((-38.9636, -32.6136), (-37.103728061, -37.103728061), (-32.6136, -38.9636))
        make_face(mode=Mode.SUBTRACT)
    extrude(amount=ELEMENT_7_DEPTH)


solid = Compound([part.part, body_2.part, body_3.part, body_4.part, body_5.part, body_6.part, body_7.part])
